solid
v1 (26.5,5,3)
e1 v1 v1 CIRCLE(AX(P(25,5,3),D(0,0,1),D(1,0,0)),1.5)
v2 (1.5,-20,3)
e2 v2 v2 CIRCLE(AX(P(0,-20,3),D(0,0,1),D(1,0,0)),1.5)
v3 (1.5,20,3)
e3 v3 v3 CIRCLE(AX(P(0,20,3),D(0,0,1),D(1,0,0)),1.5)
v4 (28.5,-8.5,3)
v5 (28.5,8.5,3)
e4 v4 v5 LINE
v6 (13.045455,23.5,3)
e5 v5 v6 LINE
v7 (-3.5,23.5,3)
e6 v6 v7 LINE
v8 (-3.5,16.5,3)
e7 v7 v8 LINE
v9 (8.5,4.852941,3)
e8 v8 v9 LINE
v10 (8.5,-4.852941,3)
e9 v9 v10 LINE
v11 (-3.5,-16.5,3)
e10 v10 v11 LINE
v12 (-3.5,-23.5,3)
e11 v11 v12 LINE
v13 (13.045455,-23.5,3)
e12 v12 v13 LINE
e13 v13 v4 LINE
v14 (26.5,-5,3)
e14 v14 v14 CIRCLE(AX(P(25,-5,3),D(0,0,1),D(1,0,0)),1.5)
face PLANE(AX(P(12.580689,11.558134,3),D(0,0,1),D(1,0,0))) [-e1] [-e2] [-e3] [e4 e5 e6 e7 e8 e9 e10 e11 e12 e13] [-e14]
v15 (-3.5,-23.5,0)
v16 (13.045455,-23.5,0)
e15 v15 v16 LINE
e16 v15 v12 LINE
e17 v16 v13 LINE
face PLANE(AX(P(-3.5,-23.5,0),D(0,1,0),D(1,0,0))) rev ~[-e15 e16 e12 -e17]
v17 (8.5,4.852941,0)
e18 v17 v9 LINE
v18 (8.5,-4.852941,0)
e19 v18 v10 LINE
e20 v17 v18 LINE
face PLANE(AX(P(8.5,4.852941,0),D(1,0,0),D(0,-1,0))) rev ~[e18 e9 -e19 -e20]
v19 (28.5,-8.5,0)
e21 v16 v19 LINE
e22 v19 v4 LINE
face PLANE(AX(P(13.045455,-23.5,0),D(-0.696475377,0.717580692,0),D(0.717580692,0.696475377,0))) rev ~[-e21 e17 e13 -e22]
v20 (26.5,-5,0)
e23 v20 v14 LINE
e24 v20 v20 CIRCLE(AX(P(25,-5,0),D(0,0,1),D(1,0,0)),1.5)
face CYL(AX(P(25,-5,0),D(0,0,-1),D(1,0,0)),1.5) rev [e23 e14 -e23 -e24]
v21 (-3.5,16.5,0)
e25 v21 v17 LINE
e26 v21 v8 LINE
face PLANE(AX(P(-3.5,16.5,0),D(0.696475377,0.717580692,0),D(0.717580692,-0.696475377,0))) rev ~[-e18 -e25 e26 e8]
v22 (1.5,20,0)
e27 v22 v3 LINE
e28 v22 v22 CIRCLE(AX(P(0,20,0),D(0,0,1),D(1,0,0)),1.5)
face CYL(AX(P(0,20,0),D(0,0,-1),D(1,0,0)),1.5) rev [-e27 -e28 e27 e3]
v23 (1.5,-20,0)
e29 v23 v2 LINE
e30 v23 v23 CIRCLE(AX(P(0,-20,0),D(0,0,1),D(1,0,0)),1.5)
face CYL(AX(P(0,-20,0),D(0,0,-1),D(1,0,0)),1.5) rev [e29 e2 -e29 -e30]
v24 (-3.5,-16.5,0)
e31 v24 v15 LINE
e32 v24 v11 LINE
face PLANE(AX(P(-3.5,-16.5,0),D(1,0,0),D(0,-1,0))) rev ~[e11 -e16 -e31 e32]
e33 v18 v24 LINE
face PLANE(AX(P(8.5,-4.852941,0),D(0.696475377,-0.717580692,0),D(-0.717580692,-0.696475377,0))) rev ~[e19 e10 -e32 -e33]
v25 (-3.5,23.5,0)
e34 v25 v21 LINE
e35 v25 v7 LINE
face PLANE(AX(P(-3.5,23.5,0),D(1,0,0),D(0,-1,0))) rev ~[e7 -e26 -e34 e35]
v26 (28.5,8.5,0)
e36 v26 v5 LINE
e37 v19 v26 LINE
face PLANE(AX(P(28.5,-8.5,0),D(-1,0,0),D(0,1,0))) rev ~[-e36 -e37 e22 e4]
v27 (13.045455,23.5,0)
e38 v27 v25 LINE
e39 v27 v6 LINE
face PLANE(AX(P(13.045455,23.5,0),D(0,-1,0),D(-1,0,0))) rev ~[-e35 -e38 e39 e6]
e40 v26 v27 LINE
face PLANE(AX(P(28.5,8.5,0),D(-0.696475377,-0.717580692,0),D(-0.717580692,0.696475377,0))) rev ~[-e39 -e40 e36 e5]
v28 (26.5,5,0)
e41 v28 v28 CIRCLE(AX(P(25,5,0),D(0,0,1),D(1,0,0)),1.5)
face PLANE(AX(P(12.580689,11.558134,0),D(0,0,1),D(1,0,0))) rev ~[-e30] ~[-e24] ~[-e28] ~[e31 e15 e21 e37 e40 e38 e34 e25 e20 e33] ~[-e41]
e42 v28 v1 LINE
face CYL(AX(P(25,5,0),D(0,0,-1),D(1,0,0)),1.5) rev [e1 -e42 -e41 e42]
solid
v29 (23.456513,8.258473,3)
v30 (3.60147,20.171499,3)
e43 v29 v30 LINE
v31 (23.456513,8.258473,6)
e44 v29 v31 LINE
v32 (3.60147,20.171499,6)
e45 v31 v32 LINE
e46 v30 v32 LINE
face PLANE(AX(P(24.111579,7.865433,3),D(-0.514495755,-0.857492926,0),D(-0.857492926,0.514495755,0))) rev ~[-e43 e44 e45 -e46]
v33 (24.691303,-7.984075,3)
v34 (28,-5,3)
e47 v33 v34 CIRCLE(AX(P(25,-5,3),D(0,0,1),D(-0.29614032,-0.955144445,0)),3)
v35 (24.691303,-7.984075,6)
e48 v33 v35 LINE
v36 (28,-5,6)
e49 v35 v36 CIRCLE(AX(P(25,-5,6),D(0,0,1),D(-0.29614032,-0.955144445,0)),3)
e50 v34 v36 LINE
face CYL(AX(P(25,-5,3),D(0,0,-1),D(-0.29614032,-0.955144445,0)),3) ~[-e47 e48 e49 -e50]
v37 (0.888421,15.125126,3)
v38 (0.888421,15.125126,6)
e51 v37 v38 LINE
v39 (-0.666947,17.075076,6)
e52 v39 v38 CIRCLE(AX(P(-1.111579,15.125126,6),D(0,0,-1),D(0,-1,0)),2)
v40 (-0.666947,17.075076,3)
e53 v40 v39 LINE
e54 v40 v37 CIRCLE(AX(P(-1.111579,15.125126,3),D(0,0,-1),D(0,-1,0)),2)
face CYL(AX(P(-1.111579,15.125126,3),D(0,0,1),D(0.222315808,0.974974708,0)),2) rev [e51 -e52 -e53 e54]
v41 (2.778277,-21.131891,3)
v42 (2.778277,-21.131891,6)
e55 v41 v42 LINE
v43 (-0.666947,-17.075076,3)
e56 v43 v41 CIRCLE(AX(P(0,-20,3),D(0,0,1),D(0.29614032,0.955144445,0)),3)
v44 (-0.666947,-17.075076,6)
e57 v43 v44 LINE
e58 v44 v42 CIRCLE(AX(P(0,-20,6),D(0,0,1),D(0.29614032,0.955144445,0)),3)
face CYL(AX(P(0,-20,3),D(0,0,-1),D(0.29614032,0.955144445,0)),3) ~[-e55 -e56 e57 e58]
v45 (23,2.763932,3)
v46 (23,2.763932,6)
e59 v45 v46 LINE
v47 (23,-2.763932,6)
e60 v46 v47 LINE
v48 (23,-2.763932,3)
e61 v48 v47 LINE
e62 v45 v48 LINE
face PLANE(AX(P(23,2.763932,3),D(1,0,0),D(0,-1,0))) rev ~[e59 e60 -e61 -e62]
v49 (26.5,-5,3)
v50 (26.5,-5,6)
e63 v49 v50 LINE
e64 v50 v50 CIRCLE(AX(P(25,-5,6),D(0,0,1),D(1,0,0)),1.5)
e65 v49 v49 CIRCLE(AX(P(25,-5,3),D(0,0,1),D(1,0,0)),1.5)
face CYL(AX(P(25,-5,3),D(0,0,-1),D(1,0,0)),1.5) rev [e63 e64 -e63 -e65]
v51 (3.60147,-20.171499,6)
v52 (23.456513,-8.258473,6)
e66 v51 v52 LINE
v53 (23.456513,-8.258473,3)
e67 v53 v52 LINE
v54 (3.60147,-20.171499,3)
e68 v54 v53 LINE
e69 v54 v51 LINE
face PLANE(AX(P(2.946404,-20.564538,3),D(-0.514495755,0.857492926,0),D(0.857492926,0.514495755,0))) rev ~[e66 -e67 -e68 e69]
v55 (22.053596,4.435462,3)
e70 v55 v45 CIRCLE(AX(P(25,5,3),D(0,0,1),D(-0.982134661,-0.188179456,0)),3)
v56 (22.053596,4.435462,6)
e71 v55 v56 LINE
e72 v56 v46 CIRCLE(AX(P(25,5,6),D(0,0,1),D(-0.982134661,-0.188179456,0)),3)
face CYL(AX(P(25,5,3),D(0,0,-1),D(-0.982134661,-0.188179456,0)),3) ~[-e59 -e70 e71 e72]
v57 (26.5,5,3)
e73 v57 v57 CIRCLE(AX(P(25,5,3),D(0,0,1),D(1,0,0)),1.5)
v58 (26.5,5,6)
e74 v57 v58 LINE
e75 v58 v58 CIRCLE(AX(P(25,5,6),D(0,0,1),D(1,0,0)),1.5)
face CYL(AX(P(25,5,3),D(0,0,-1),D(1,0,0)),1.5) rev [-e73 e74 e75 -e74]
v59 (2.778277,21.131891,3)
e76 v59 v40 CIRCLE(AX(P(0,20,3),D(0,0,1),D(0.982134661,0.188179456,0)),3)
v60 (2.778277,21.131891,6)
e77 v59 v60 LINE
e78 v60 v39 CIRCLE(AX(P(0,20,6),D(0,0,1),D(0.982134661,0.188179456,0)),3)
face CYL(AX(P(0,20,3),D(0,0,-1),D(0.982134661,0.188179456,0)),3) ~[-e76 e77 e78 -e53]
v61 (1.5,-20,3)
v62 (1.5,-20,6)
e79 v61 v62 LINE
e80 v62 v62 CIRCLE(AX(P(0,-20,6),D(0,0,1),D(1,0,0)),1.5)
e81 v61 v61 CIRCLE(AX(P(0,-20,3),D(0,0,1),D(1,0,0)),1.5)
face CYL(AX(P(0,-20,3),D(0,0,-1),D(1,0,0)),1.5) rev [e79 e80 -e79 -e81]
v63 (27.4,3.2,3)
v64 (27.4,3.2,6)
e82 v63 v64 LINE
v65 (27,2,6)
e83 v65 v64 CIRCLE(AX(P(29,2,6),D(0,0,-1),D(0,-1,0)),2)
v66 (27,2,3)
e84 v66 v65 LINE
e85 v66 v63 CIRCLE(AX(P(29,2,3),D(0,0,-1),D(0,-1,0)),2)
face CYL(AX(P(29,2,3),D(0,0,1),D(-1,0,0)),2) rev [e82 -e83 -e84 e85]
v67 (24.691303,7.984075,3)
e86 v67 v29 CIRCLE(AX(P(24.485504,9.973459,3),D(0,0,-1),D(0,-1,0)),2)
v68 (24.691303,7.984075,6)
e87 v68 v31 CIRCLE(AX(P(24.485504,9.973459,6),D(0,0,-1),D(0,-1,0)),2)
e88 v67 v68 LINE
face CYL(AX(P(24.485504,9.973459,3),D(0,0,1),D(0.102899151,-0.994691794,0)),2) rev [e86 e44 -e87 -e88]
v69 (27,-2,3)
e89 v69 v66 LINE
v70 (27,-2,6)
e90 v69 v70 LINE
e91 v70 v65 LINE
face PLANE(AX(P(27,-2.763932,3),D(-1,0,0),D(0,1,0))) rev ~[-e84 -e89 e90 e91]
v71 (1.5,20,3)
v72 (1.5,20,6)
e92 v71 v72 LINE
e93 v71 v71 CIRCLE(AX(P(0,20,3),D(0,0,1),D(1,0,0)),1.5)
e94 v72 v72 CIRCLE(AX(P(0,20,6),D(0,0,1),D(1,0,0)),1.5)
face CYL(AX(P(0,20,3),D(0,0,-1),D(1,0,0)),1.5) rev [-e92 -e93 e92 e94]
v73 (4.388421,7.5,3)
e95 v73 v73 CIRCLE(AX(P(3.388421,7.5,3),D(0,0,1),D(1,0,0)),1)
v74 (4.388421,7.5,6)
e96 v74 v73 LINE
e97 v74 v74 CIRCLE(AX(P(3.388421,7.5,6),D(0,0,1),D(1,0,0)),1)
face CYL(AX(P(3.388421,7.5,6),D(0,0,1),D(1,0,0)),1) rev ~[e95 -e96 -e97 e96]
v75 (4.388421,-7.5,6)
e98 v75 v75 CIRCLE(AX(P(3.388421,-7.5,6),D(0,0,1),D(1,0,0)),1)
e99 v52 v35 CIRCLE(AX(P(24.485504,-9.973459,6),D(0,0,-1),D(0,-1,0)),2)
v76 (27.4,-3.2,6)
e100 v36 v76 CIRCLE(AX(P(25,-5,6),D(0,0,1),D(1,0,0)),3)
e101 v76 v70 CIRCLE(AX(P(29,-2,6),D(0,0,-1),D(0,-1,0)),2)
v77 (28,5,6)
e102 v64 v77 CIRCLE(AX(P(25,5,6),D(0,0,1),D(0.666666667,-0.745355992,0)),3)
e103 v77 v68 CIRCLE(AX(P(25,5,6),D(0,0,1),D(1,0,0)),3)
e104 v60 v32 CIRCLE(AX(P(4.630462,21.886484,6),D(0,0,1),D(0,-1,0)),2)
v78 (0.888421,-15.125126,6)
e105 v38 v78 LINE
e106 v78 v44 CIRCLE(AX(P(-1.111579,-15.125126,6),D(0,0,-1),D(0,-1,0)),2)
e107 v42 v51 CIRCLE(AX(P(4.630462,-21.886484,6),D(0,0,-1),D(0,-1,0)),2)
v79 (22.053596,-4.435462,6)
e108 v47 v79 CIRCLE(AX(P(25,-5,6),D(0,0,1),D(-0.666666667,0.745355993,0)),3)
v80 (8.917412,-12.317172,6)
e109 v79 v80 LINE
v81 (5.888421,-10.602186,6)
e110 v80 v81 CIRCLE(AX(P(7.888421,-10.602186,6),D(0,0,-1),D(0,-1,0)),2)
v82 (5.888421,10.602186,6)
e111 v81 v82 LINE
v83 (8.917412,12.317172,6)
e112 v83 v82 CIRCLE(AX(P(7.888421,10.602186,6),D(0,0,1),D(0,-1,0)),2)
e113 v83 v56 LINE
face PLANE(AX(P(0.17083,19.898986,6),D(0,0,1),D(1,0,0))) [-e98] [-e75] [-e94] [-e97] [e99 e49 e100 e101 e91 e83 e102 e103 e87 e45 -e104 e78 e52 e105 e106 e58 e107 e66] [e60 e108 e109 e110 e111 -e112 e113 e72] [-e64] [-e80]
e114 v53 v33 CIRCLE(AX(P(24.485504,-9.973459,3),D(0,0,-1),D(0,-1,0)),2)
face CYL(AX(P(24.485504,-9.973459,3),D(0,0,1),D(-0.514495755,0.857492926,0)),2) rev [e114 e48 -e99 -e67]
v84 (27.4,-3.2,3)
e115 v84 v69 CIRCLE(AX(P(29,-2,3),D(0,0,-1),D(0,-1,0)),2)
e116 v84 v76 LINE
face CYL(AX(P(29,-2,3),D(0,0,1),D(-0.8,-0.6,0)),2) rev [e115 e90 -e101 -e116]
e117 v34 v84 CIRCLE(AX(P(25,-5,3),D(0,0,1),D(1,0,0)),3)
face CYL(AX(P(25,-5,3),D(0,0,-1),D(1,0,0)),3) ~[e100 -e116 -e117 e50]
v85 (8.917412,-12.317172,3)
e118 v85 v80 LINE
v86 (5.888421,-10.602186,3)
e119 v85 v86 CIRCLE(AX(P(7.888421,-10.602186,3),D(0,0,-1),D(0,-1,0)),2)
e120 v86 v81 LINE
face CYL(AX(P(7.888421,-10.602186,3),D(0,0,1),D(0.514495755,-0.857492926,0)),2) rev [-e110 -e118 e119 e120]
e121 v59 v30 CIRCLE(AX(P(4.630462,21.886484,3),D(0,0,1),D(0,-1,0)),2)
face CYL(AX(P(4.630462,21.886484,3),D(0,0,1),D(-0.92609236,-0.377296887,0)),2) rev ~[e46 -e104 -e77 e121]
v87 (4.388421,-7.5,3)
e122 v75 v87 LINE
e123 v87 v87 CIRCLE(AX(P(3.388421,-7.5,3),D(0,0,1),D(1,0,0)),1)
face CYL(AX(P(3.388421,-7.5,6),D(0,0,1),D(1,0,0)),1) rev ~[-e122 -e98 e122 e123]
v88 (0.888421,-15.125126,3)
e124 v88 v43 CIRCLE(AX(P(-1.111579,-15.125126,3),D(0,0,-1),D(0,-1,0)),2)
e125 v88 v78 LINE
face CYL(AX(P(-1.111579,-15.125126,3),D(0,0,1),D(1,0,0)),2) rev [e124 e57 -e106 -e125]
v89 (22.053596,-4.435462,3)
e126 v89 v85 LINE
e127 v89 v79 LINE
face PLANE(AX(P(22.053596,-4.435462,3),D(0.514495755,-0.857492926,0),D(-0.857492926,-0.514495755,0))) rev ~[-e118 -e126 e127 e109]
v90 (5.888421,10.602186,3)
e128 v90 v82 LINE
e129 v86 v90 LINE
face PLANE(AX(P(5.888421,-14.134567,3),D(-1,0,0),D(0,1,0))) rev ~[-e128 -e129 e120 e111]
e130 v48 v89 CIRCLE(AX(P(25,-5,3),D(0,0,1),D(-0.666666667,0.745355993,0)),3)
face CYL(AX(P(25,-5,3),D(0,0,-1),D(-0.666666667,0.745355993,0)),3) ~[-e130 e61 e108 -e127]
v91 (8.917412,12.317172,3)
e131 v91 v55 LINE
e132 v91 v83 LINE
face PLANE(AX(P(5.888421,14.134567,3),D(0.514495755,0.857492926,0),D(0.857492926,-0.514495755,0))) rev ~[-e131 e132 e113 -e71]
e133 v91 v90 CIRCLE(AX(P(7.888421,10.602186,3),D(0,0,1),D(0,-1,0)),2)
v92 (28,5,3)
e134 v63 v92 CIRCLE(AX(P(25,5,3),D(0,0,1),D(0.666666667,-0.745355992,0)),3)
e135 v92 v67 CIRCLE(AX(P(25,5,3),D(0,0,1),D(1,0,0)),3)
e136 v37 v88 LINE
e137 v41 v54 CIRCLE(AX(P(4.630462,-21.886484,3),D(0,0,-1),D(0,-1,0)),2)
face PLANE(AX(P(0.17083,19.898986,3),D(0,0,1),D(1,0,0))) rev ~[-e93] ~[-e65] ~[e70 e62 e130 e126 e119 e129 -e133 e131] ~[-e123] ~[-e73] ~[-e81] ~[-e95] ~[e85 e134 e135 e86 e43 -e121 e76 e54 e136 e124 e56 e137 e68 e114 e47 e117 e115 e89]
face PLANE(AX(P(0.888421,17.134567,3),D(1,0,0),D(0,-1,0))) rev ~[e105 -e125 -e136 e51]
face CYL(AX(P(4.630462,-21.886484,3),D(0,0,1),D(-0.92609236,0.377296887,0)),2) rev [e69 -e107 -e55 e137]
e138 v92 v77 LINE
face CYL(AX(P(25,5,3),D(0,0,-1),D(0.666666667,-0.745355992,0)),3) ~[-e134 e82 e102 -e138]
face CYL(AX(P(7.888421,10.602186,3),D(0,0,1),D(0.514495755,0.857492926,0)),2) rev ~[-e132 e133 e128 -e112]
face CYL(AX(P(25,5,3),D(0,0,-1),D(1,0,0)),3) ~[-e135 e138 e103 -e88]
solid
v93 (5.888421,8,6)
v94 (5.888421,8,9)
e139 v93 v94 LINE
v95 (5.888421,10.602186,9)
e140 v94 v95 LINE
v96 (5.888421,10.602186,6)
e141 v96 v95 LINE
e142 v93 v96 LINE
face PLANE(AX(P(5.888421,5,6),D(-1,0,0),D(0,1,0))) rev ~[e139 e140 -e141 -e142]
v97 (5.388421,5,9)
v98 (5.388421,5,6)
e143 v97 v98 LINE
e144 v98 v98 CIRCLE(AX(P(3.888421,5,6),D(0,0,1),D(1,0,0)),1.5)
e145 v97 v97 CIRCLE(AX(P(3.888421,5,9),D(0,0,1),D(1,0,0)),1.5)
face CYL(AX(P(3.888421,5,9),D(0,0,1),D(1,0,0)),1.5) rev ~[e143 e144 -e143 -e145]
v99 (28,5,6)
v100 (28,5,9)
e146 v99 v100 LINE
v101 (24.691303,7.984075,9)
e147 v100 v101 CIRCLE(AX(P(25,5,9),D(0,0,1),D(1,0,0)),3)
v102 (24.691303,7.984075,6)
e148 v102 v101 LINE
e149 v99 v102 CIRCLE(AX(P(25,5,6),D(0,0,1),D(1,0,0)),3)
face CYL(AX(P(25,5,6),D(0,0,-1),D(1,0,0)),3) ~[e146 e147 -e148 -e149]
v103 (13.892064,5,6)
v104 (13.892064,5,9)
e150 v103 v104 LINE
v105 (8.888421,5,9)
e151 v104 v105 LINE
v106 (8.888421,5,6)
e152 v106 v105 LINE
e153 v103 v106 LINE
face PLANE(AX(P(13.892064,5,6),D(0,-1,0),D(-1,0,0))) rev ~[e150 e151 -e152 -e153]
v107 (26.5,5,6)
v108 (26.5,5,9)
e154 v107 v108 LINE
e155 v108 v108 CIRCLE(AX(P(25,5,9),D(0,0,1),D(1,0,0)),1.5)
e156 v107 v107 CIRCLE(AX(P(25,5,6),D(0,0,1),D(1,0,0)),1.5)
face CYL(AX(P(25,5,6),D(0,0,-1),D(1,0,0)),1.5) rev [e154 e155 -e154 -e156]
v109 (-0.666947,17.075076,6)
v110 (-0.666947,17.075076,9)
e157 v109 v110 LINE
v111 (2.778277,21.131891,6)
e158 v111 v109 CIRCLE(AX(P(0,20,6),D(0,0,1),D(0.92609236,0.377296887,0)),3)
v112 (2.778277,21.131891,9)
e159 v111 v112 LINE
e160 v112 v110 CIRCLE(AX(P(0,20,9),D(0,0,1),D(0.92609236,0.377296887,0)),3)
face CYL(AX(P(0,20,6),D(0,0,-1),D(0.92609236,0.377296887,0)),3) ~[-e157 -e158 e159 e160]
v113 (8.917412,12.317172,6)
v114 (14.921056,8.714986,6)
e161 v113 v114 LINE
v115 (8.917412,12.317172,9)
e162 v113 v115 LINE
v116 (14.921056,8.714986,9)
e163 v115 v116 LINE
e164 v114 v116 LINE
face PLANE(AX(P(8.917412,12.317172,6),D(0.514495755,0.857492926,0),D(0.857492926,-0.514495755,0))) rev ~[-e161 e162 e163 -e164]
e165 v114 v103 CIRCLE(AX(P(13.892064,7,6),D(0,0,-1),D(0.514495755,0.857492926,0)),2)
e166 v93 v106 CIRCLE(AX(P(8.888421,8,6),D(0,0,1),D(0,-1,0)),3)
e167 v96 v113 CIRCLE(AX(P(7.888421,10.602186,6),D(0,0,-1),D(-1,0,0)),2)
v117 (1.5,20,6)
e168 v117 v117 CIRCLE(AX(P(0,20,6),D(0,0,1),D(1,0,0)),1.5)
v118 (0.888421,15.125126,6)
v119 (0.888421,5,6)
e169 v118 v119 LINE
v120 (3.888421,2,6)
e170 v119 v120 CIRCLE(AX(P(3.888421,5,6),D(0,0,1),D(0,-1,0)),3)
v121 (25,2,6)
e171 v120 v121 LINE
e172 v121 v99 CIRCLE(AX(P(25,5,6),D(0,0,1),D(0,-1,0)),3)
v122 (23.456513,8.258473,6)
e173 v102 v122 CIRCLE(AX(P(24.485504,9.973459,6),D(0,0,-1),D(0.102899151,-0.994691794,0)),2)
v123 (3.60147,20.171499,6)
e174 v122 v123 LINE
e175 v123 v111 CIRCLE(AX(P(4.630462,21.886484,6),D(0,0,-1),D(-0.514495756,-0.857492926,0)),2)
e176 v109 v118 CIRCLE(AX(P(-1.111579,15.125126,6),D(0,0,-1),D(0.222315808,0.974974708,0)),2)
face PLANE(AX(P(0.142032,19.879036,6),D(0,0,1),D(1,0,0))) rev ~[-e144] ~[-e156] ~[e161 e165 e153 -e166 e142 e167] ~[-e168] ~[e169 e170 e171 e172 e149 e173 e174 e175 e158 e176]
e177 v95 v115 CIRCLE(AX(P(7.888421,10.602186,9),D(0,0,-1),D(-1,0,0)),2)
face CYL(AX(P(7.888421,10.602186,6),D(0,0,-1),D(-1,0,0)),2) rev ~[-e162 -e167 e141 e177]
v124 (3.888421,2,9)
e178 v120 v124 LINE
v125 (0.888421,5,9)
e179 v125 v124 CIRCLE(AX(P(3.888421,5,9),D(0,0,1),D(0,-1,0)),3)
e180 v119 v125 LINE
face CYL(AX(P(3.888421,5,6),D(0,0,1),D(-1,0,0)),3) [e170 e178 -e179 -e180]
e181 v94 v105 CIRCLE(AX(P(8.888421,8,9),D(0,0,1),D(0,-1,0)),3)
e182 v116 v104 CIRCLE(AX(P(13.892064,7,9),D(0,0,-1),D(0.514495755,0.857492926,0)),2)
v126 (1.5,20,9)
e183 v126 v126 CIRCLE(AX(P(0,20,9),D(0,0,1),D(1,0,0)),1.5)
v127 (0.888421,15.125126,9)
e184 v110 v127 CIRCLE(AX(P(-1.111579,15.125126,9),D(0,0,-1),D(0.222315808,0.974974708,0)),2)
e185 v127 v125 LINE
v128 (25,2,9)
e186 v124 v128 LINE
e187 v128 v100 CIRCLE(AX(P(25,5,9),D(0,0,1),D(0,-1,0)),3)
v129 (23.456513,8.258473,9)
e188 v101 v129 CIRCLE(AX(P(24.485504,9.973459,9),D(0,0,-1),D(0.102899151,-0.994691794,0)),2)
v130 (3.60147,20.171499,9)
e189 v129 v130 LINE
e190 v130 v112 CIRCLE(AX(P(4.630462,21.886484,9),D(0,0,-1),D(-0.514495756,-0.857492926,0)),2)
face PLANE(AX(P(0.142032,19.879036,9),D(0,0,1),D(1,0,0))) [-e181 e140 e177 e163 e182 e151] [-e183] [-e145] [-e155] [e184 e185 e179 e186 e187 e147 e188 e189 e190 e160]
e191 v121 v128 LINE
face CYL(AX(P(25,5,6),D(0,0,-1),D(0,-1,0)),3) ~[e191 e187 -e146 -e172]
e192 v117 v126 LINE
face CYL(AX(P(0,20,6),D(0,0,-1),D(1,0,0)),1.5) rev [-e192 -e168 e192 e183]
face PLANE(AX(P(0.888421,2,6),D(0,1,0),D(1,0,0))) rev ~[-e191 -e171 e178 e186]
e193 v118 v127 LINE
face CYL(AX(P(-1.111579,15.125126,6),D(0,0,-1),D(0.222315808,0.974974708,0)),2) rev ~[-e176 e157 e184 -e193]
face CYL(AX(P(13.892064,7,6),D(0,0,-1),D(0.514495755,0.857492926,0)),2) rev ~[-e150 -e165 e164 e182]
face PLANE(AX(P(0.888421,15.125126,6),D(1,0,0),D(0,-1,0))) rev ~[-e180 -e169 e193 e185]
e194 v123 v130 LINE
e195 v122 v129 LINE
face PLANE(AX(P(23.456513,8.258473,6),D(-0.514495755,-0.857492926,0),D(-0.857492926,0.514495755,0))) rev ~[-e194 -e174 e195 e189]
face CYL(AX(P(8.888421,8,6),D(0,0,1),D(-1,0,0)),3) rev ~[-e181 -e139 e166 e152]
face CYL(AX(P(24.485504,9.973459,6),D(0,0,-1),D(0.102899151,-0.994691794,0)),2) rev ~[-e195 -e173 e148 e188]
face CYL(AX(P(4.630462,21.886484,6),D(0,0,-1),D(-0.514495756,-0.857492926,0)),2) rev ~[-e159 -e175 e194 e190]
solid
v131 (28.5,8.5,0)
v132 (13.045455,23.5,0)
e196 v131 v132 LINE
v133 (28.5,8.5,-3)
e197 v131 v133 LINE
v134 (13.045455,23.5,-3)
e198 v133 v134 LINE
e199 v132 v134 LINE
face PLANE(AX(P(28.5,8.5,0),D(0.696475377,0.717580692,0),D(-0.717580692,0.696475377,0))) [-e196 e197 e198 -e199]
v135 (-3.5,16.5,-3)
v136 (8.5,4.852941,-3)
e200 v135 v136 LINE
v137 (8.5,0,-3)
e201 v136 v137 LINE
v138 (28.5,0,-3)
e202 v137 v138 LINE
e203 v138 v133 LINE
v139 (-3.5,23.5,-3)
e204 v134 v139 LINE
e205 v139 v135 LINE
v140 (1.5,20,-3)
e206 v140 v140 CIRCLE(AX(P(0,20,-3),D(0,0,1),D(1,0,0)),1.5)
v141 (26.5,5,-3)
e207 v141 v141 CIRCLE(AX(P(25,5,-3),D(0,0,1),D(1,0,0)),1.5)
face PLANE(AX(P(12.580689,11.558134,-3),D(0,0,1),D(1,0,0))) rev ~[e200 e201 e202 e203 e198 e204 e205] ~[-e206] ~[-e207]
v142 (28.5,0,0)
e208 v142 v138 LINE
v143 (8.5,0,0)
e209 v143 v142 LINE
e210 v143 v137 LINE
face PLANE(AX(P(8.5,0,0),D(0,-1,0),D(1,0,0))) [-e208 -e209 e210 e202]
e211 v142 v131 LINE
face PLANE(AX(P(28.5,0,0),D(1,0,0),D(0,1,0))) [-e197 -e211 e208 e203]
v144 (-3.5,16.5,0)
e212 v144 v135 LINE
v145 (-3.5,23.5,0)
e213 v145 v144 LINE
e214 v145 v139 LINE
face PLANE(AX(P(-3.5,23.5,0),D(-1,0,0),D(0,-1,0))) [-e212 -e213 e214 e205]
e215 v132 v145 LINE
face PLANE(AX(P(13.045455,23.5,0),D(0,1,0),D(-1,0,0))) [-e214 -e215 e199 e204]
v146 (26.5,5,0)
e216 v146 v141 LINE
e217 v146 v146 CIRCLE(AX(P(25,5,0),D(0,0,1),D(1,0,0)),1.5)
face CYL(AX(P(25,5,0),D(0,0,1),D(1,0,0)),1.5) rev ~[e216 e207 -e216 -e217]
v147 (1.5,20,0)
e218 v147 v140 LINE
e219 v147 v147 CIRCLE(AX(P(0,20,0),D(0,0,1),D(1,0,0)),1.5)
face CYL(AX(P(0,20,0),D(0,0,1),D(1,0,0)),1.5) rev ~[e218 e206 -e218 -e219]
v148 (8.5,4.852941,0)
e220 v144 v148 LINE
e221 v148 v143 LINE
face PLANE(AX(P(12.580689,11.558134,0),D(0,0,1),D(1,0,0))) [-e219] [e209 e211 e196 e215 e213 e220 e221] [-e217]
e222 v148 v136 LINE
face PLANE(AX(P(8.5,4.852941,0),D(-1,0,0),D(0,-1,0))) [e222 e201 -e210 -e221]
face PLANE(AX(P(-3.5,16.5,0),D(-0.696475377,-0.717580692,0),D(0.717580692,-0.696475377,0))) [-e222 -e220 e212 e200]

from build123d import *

# Parameters (mm, degrees)
F0_R      = 1.5
F1_DEPTH  = 3
F2_DEPTH  = 3
F3_R      = 1.5
F4_DEPTH  = 3
F5_R      = 2
F6_R      = 1.5
F7_DEPTH  = 3
F8_R      = 3
F9_R      = 1
F10_DEPTH = 3
F11_R     = 1.5
F12_DEPTH = 3


with BuildPart() as f1:
    # F0 (on Top) → F1 (new body)
    with BuildSketch(Plane.XY):
        Polygon((-3.5, 16.5), (8.5, 4.8529411765), (8.5, 0), (28.5, 0), (28.5, 8.5), (13.0454545455, 23.5), (-3.5, 23.5), align=None)
        with Locations((0, 20)):
            Circle(F0_R, mode=Mode.SUBTRACT)
        with Locations((25, 5)):
            Circle(F0_R, mode=Mode.SUBTRACT)
        Polygon((28.5, 0), (8.5, 0), (8.5, -4.8529411765), (-3.5, -16.5), (-3.5, -23.5), (13.0454545455, -23.5), (28.5, -8.5), align=None)
        with Locations((0, -20)):
            Circle(F0_R, mode=Mode.SUBTRACT)
        with Locations((25, -5)):
            Circle(F0_R, mode=Mode.SUBTRACT)
    extrude(amount=F1_DEPTH)


with BuildPart() as f2:
    # F0 (on Top) → F2 (new body)
    with BuildSketch(Plane.XY):
        Polygon((-3.5, 16.5), (8.5, 4.8529411765), (8.5, 0), (28.5, 0), (28.5, 8.5), (13.0454545455, 23.5), (-3.5, 23.5), align=None)
        with Locations((0, 20)):
            Circle(F0_R, mode=Mode.SUBTRACT)
        with Locations((25, 5)):
            Circle(F0_R, mode=Mode.SUBTRACT)
    extrude(amount=-F2_DEPTH)


with BuildPart() as f4:
    # F3 (on face) → F4 (new body)
    with BuildSketch(Plane.XY.offset(3)):
        with BuildLine():
            ThreePointArc((0.8884209613, 17.1345666653), (2.415084148, 18.2202897545), (3, 20))
            ThreePointArc((3, 20), (2.9865709391, 20.2835384022), (2.946403983, 20.5645383682))
            ThreePointArc((2.946403983, 20.5645383682), (-2.5724787771, 21.5434872663), (0.8884209613, 17.1345666653))
        make_face()
        with Locations((0, 20)):
            Circle(F3_R, mode=Mode.SUBTRACT)
        with BuildLine():
            ThreePointArc((3, -20), (2.415084148, -18.2202897545), (0.8884209613, -17.1345666653))
            ThreePointArc((0.8884209613, -17.1345666653), (-2.5724787771, -21.5434872663), (2.946403983, -20.5645383682))
            ThreePointArc((2.946403983, -20.5645383682), (2.9865709391, -20.2835384022), (3, -20))
        make_face()
        with Locations((0, -20)):
            Circle(F3_R, mode=Mode.SUBTRACT)
        with BuildLine():
            Line((27, -2.7639320225), (27, 2.7639320225))
            ThreePointArc((27, 2.7639320225), (25, 2), (23, 2.7639320225))
            Line((23, 2.7639320225), (23, -2.7639320225))
            ThreePointArc((23, -2.7639320225), (25, -2), (27, -2.7639320225))
        make_face()
        with BuildLine():
            ThreePointArc((28, 5), (26.7797102455, 7.415084148), (24.1115790387, 7.8654333347))
            ThreePointArc((24.1115790387, 7.8654333347), (22.4275212229, 6.5434872663), (22.053596017, 4.4354616318))
            ThreePointArc((22.053596017, 4.4354616318), (22.3894002797, 3.521903555), (23, 2.7639320225))
            ThreePointArc((23, 2.7639320225), (25, 2), (27, 2.7639320225))
            ThreePointArc((27, 2.7639320225), (27.7386127875, 3.7752551286), (28, 5))
        make_face()
        with Locations((25, 5)):
            Circle(F3_R, mode=Mode.SUBTRACT)
        with BuildLine():
            ThreePointArc((2.946403983, 20.5645383682), (2.9865709391, 20.2835384022), (3, 20))
            ThreePointArc((3, 20), (2.415084148, 18.2202897545), (0.8884209613, 17.1345666653))
            Line((0.8884209613, 17.1345666653), (5.8884209613, 14.1345666653))
            Line((5.8884209613, 14.1345666653), (22.053596017, 4.4354616318))
            ThreePointArc((22.053596017, 4.4354616318), (22.4275212229, 6.5434872663), (24.1115790387, 7.8654333347))
            Line((24.1115790387, 7.8654333347), (2.946403983, 20.5645383682))
        make_face()
        with BuildLine():
            ThreePointArc((28, -5), (27.7386127875, -3.7752551286), (27, -2.7639320225))
            ThreePointArc((27, -2.7639320225), (25, -2), (23, -2.7639320225))
            ThreePointArc((23, -2.7639320225), (22.3894002797, -3.521903555), (22.053596017, -4.4354616318))
            ThreePointArc((22.053596017, -4.4354616318), (22.4275212229, -6.5434872663), (24.1115790387, -7.8654333347))
            ThreePointArc((24.1115790387, -7.8654333347), (26.7797102455, -7.415084148), (28, -5))
        make_face()
        with Locations((25, -5)):
            Circle(F3_R, mode=Mode.SUBTRACT)
        with BuildLine():
            Line((5.8884209613, -14.1345666653), (0.8884209613, -17.1345666653))
            ThreePointArc((0.8884209613, -17.1345666653), (2.415084148, -18.2202897545), (3, -20))
            ThreePointArc((3, -20), (2.9865709391, -20.2835384022), (2.946403983, -20.5645383682))
            Line((2.946403983, -20.5645383682), (24.1115790387, -7.8654333347))
            ThreePointArc((24.1115790387, -7.8654333347), (22.4275212229, -6.5434872663), (22.053596017, -4.4354616318))
            Line((22.053596017, -4.4354616318), (5.8884209613, -14.1345666653))
        make_face()
        Polygon((5.8884209613, 14.1345666653), (0.8884209613, 17.1345666653), (0.8884209613, 12.2406502435), (5.8884209613, 7.387709067), align=None)
        Polygon((5.8884209613, -7.387709067), (0.8884209613, -12.2406502435), (0.8884209613, -17.1345666653), (5.8884209613, -14.1345666653), align=None)
        Polygon((5.8884209613, 7.387709067), (0.8884209613, 12.2406502435), (0.8884209613, -12.2406502435), (5.8884209613, -7.387709067), align=None)
    extrude(amount=F4_DEPTH)

    # F5
    f5_edges = [f4.edges().sort_by_distance(p)[0] for p in [
        (0.888421, 17.134567, 4.5),
        (0.888421, -17.134567, 4.5),
        (2.946404, -20.564538, 4.5),
        (24.111579, -7.865433, 4.5),
        (27, 2.763932, 4.5),
        (27, -2.763932, 4.5),
        (24.111579, 7.865433, 4.5),
        (5.888421, -14.134567, 4.5),
        (5.888421, 14.134567, 4.5),
        (2.946404, 20.564538, 4.5),
    ]]
    fillet(f5_edges, radius=F5_R)

    # F9 (on face) → F10 (cut, through all)
    with BuildSketch(Plane.XY.offset(6)):
        with Locations((3.3884209613, 7.5)):
            Circle(F9_R)
        with Locations((3.3884209613, -7.5)):
            Circle(F9_R)
    extrude(amount=-F10_DEPTH, mode=Mode.SUBTRACT)


with BuildPart() as f7:
    # F6 (on face) → F7 (new body)
    with BuildSketch(Plane.XY.offset(6)):
        with BuildLine():
            ThreePointArc((0.8884209613, 17.1345666653), (2.415084148, 18.2202897545), (3, 20))
            ThreePointArc((3, 20), (2.9865709391, 20.2835384022), (2.946403983, 20.5645383682))
            ThreePointArc((2.946403983, 20.5645383682), (2.8763632372, 20.8523699475), (2.7782770793, 21.1318906619))
            ThreePointArc((2.7782770793, 21.1318906619), (-2.2866711137, 21.9419410953), (-0.6669474232, 17.0750758754))
            ThreePointArc((-0.6669474232, 17.0750758754), (0.1146622018, 17.0021920376), (0.8884209613, 17.1345666653))
        make_face()
        with Locations((0, 20)):
            Circle(F6_R, mode=Mode.SUBTRACT)
        with BuildLine():
            ThreePointArc((2.946403983, 20.5645383682), (2.9865709391, 20.2835384022), (3, 20))
            ThreePointArc((3, 20), (2.415084148, 18.2202897545), (0.8884209613, 17.1345666653))
            Line((0.8884209613, 17.1345666653), (5.8884209613, 14.1345666653))
            Line((5.8884209613, 14.1345666653), (8.9174124721, 12.3171717588))
            Line((8.9174124721, 12.3171717588), (14.9210556511, 8.7149858514))
            ThreePointArc((14.9210556511, 8.7149858514), (15.8194939966, 6.4661328362), (13.8920641402, 5))
            Line((13.8920641402, 5), (5.8884209613, 5))
            Line((5.8884209613, 5), (5.8884209613, 2))
            Line((5.8884209613, 2), (25, 2))
            ThreePointArc((25, 2), (22.0338324386, 4.550722805), (24.1115790387, 7.8654333347))
            Line((24.1115790387, 7.8654333347), (23.4565127337, 8.2584731177))
            Line((23.4565127337, 8.2584731177), (3.601470288, 20.1714985851))
            Line((3.601470288, 20.1714985851), (2.946403983, 20.5645383682))
        make_face()
        with BuildLine():
            ThreePointArc((2.7782770793, 21.1318906619), (2.8763632372, 20.8523699475), (2.946403983, 20.5645383682))
            Line((2.946403983, 20.5645383682), (3.601470288, 20.1714985851))
            ThreePointArc((3.601470288, 20.1714985851), (3.1119485941, 20.5849016897), (2.7782770793, 21.1318906619))
        make_face()
        with BuildLine():
            Line((0.8884209613, 15.125126459), (0.8884209613, 17.1345666653))
            ThreePointArc((0.8884209613, 17.1345666653), (0.1146622018, 17.0021920376), (-0.6669474232, 17.0750758754))
            ThreePointArc((-0.6669474232, 17.0750758754), (0.4519527376, 16.3722705503), (0.8884209613, 15.125126459))
        make_face()
        Polygon((5.8884209613, 14.1345666653), (0.8884209613, 17.1345666653), (0.8884209613, 15.125126459), (0.8884209613, 2), (5.8884209613, 2), (5.8884209613, 5), (5.8884209613, 10.6021859074), align=None)
        with BuildLine():
            ThreePointArc((24.6913025467, 7.9840753815), (24.0516433289, 8.0210848488), (23.4565127337, 8.2584731177))
            Line((23.4565127337, 8.2584731177), (24.1115790387, 7.8654333347))
            ThreePointArc((24.1115790387, 7.8654333347), (24.3985084303, 7.9390828317), (24.6913025467, 7.9840753815))
        make_face()
        with BuildLine():
            ThreePointArc((24.6913025467, 7.9840753815), (24.3985084303, 7.9390828317), (24.1115790387, 7.8654333347))
            ThreePointArc((24.1115790387, 7.8654333347), (22.0338324386, 4.550722805), (25, 2))
            ThreePointArc((25, 2), (27.1213203436, 2.8786796564), (28, 5))
            ThreePointArc((28, 5), (27.0092172158, 7.2277895277), (24.6913025467, 7.9840753815))
        make_face()
        with Locations((25, 5)):
            Circle(F6_R, mode=Mode.SUBTRACT)
        with BuildLine():
            Line((8.9174124721, 12.3171717588), (5.8884209613, 14.1345666653))
            Line((5.8884209613, 14.1345666653), (5.8884209613, 10.6021859074))
            ThreePointArc((5.8884209613, 10.6021859074), (6.9030233313, 12.3425857209), (8.9174124721, 12.3171717588))
        make_face()
    extrude(amount=F7_DEPTH)

    # F8
    f8_edges = [f7.edges().sort_by_distance(p)[0] for p in [
        (5.888421, 5, 7.5),
        (0.888421, 2, 7.5),
    ]]
    fillet(f8_edges, radius=F8_R)

    # F11 (on face) → F12 (cut, through all)
    with BuildSketch(Plane.XY.offset(9)):
        with Locations((3.8884209613, 5)):
            Circle(F11_R)
    extrude(amount=-F12_DEPTH, mode=Mode.SUBTRACT)


solid = Compound([f1.part, f2.part, f4.part, f7.part])
